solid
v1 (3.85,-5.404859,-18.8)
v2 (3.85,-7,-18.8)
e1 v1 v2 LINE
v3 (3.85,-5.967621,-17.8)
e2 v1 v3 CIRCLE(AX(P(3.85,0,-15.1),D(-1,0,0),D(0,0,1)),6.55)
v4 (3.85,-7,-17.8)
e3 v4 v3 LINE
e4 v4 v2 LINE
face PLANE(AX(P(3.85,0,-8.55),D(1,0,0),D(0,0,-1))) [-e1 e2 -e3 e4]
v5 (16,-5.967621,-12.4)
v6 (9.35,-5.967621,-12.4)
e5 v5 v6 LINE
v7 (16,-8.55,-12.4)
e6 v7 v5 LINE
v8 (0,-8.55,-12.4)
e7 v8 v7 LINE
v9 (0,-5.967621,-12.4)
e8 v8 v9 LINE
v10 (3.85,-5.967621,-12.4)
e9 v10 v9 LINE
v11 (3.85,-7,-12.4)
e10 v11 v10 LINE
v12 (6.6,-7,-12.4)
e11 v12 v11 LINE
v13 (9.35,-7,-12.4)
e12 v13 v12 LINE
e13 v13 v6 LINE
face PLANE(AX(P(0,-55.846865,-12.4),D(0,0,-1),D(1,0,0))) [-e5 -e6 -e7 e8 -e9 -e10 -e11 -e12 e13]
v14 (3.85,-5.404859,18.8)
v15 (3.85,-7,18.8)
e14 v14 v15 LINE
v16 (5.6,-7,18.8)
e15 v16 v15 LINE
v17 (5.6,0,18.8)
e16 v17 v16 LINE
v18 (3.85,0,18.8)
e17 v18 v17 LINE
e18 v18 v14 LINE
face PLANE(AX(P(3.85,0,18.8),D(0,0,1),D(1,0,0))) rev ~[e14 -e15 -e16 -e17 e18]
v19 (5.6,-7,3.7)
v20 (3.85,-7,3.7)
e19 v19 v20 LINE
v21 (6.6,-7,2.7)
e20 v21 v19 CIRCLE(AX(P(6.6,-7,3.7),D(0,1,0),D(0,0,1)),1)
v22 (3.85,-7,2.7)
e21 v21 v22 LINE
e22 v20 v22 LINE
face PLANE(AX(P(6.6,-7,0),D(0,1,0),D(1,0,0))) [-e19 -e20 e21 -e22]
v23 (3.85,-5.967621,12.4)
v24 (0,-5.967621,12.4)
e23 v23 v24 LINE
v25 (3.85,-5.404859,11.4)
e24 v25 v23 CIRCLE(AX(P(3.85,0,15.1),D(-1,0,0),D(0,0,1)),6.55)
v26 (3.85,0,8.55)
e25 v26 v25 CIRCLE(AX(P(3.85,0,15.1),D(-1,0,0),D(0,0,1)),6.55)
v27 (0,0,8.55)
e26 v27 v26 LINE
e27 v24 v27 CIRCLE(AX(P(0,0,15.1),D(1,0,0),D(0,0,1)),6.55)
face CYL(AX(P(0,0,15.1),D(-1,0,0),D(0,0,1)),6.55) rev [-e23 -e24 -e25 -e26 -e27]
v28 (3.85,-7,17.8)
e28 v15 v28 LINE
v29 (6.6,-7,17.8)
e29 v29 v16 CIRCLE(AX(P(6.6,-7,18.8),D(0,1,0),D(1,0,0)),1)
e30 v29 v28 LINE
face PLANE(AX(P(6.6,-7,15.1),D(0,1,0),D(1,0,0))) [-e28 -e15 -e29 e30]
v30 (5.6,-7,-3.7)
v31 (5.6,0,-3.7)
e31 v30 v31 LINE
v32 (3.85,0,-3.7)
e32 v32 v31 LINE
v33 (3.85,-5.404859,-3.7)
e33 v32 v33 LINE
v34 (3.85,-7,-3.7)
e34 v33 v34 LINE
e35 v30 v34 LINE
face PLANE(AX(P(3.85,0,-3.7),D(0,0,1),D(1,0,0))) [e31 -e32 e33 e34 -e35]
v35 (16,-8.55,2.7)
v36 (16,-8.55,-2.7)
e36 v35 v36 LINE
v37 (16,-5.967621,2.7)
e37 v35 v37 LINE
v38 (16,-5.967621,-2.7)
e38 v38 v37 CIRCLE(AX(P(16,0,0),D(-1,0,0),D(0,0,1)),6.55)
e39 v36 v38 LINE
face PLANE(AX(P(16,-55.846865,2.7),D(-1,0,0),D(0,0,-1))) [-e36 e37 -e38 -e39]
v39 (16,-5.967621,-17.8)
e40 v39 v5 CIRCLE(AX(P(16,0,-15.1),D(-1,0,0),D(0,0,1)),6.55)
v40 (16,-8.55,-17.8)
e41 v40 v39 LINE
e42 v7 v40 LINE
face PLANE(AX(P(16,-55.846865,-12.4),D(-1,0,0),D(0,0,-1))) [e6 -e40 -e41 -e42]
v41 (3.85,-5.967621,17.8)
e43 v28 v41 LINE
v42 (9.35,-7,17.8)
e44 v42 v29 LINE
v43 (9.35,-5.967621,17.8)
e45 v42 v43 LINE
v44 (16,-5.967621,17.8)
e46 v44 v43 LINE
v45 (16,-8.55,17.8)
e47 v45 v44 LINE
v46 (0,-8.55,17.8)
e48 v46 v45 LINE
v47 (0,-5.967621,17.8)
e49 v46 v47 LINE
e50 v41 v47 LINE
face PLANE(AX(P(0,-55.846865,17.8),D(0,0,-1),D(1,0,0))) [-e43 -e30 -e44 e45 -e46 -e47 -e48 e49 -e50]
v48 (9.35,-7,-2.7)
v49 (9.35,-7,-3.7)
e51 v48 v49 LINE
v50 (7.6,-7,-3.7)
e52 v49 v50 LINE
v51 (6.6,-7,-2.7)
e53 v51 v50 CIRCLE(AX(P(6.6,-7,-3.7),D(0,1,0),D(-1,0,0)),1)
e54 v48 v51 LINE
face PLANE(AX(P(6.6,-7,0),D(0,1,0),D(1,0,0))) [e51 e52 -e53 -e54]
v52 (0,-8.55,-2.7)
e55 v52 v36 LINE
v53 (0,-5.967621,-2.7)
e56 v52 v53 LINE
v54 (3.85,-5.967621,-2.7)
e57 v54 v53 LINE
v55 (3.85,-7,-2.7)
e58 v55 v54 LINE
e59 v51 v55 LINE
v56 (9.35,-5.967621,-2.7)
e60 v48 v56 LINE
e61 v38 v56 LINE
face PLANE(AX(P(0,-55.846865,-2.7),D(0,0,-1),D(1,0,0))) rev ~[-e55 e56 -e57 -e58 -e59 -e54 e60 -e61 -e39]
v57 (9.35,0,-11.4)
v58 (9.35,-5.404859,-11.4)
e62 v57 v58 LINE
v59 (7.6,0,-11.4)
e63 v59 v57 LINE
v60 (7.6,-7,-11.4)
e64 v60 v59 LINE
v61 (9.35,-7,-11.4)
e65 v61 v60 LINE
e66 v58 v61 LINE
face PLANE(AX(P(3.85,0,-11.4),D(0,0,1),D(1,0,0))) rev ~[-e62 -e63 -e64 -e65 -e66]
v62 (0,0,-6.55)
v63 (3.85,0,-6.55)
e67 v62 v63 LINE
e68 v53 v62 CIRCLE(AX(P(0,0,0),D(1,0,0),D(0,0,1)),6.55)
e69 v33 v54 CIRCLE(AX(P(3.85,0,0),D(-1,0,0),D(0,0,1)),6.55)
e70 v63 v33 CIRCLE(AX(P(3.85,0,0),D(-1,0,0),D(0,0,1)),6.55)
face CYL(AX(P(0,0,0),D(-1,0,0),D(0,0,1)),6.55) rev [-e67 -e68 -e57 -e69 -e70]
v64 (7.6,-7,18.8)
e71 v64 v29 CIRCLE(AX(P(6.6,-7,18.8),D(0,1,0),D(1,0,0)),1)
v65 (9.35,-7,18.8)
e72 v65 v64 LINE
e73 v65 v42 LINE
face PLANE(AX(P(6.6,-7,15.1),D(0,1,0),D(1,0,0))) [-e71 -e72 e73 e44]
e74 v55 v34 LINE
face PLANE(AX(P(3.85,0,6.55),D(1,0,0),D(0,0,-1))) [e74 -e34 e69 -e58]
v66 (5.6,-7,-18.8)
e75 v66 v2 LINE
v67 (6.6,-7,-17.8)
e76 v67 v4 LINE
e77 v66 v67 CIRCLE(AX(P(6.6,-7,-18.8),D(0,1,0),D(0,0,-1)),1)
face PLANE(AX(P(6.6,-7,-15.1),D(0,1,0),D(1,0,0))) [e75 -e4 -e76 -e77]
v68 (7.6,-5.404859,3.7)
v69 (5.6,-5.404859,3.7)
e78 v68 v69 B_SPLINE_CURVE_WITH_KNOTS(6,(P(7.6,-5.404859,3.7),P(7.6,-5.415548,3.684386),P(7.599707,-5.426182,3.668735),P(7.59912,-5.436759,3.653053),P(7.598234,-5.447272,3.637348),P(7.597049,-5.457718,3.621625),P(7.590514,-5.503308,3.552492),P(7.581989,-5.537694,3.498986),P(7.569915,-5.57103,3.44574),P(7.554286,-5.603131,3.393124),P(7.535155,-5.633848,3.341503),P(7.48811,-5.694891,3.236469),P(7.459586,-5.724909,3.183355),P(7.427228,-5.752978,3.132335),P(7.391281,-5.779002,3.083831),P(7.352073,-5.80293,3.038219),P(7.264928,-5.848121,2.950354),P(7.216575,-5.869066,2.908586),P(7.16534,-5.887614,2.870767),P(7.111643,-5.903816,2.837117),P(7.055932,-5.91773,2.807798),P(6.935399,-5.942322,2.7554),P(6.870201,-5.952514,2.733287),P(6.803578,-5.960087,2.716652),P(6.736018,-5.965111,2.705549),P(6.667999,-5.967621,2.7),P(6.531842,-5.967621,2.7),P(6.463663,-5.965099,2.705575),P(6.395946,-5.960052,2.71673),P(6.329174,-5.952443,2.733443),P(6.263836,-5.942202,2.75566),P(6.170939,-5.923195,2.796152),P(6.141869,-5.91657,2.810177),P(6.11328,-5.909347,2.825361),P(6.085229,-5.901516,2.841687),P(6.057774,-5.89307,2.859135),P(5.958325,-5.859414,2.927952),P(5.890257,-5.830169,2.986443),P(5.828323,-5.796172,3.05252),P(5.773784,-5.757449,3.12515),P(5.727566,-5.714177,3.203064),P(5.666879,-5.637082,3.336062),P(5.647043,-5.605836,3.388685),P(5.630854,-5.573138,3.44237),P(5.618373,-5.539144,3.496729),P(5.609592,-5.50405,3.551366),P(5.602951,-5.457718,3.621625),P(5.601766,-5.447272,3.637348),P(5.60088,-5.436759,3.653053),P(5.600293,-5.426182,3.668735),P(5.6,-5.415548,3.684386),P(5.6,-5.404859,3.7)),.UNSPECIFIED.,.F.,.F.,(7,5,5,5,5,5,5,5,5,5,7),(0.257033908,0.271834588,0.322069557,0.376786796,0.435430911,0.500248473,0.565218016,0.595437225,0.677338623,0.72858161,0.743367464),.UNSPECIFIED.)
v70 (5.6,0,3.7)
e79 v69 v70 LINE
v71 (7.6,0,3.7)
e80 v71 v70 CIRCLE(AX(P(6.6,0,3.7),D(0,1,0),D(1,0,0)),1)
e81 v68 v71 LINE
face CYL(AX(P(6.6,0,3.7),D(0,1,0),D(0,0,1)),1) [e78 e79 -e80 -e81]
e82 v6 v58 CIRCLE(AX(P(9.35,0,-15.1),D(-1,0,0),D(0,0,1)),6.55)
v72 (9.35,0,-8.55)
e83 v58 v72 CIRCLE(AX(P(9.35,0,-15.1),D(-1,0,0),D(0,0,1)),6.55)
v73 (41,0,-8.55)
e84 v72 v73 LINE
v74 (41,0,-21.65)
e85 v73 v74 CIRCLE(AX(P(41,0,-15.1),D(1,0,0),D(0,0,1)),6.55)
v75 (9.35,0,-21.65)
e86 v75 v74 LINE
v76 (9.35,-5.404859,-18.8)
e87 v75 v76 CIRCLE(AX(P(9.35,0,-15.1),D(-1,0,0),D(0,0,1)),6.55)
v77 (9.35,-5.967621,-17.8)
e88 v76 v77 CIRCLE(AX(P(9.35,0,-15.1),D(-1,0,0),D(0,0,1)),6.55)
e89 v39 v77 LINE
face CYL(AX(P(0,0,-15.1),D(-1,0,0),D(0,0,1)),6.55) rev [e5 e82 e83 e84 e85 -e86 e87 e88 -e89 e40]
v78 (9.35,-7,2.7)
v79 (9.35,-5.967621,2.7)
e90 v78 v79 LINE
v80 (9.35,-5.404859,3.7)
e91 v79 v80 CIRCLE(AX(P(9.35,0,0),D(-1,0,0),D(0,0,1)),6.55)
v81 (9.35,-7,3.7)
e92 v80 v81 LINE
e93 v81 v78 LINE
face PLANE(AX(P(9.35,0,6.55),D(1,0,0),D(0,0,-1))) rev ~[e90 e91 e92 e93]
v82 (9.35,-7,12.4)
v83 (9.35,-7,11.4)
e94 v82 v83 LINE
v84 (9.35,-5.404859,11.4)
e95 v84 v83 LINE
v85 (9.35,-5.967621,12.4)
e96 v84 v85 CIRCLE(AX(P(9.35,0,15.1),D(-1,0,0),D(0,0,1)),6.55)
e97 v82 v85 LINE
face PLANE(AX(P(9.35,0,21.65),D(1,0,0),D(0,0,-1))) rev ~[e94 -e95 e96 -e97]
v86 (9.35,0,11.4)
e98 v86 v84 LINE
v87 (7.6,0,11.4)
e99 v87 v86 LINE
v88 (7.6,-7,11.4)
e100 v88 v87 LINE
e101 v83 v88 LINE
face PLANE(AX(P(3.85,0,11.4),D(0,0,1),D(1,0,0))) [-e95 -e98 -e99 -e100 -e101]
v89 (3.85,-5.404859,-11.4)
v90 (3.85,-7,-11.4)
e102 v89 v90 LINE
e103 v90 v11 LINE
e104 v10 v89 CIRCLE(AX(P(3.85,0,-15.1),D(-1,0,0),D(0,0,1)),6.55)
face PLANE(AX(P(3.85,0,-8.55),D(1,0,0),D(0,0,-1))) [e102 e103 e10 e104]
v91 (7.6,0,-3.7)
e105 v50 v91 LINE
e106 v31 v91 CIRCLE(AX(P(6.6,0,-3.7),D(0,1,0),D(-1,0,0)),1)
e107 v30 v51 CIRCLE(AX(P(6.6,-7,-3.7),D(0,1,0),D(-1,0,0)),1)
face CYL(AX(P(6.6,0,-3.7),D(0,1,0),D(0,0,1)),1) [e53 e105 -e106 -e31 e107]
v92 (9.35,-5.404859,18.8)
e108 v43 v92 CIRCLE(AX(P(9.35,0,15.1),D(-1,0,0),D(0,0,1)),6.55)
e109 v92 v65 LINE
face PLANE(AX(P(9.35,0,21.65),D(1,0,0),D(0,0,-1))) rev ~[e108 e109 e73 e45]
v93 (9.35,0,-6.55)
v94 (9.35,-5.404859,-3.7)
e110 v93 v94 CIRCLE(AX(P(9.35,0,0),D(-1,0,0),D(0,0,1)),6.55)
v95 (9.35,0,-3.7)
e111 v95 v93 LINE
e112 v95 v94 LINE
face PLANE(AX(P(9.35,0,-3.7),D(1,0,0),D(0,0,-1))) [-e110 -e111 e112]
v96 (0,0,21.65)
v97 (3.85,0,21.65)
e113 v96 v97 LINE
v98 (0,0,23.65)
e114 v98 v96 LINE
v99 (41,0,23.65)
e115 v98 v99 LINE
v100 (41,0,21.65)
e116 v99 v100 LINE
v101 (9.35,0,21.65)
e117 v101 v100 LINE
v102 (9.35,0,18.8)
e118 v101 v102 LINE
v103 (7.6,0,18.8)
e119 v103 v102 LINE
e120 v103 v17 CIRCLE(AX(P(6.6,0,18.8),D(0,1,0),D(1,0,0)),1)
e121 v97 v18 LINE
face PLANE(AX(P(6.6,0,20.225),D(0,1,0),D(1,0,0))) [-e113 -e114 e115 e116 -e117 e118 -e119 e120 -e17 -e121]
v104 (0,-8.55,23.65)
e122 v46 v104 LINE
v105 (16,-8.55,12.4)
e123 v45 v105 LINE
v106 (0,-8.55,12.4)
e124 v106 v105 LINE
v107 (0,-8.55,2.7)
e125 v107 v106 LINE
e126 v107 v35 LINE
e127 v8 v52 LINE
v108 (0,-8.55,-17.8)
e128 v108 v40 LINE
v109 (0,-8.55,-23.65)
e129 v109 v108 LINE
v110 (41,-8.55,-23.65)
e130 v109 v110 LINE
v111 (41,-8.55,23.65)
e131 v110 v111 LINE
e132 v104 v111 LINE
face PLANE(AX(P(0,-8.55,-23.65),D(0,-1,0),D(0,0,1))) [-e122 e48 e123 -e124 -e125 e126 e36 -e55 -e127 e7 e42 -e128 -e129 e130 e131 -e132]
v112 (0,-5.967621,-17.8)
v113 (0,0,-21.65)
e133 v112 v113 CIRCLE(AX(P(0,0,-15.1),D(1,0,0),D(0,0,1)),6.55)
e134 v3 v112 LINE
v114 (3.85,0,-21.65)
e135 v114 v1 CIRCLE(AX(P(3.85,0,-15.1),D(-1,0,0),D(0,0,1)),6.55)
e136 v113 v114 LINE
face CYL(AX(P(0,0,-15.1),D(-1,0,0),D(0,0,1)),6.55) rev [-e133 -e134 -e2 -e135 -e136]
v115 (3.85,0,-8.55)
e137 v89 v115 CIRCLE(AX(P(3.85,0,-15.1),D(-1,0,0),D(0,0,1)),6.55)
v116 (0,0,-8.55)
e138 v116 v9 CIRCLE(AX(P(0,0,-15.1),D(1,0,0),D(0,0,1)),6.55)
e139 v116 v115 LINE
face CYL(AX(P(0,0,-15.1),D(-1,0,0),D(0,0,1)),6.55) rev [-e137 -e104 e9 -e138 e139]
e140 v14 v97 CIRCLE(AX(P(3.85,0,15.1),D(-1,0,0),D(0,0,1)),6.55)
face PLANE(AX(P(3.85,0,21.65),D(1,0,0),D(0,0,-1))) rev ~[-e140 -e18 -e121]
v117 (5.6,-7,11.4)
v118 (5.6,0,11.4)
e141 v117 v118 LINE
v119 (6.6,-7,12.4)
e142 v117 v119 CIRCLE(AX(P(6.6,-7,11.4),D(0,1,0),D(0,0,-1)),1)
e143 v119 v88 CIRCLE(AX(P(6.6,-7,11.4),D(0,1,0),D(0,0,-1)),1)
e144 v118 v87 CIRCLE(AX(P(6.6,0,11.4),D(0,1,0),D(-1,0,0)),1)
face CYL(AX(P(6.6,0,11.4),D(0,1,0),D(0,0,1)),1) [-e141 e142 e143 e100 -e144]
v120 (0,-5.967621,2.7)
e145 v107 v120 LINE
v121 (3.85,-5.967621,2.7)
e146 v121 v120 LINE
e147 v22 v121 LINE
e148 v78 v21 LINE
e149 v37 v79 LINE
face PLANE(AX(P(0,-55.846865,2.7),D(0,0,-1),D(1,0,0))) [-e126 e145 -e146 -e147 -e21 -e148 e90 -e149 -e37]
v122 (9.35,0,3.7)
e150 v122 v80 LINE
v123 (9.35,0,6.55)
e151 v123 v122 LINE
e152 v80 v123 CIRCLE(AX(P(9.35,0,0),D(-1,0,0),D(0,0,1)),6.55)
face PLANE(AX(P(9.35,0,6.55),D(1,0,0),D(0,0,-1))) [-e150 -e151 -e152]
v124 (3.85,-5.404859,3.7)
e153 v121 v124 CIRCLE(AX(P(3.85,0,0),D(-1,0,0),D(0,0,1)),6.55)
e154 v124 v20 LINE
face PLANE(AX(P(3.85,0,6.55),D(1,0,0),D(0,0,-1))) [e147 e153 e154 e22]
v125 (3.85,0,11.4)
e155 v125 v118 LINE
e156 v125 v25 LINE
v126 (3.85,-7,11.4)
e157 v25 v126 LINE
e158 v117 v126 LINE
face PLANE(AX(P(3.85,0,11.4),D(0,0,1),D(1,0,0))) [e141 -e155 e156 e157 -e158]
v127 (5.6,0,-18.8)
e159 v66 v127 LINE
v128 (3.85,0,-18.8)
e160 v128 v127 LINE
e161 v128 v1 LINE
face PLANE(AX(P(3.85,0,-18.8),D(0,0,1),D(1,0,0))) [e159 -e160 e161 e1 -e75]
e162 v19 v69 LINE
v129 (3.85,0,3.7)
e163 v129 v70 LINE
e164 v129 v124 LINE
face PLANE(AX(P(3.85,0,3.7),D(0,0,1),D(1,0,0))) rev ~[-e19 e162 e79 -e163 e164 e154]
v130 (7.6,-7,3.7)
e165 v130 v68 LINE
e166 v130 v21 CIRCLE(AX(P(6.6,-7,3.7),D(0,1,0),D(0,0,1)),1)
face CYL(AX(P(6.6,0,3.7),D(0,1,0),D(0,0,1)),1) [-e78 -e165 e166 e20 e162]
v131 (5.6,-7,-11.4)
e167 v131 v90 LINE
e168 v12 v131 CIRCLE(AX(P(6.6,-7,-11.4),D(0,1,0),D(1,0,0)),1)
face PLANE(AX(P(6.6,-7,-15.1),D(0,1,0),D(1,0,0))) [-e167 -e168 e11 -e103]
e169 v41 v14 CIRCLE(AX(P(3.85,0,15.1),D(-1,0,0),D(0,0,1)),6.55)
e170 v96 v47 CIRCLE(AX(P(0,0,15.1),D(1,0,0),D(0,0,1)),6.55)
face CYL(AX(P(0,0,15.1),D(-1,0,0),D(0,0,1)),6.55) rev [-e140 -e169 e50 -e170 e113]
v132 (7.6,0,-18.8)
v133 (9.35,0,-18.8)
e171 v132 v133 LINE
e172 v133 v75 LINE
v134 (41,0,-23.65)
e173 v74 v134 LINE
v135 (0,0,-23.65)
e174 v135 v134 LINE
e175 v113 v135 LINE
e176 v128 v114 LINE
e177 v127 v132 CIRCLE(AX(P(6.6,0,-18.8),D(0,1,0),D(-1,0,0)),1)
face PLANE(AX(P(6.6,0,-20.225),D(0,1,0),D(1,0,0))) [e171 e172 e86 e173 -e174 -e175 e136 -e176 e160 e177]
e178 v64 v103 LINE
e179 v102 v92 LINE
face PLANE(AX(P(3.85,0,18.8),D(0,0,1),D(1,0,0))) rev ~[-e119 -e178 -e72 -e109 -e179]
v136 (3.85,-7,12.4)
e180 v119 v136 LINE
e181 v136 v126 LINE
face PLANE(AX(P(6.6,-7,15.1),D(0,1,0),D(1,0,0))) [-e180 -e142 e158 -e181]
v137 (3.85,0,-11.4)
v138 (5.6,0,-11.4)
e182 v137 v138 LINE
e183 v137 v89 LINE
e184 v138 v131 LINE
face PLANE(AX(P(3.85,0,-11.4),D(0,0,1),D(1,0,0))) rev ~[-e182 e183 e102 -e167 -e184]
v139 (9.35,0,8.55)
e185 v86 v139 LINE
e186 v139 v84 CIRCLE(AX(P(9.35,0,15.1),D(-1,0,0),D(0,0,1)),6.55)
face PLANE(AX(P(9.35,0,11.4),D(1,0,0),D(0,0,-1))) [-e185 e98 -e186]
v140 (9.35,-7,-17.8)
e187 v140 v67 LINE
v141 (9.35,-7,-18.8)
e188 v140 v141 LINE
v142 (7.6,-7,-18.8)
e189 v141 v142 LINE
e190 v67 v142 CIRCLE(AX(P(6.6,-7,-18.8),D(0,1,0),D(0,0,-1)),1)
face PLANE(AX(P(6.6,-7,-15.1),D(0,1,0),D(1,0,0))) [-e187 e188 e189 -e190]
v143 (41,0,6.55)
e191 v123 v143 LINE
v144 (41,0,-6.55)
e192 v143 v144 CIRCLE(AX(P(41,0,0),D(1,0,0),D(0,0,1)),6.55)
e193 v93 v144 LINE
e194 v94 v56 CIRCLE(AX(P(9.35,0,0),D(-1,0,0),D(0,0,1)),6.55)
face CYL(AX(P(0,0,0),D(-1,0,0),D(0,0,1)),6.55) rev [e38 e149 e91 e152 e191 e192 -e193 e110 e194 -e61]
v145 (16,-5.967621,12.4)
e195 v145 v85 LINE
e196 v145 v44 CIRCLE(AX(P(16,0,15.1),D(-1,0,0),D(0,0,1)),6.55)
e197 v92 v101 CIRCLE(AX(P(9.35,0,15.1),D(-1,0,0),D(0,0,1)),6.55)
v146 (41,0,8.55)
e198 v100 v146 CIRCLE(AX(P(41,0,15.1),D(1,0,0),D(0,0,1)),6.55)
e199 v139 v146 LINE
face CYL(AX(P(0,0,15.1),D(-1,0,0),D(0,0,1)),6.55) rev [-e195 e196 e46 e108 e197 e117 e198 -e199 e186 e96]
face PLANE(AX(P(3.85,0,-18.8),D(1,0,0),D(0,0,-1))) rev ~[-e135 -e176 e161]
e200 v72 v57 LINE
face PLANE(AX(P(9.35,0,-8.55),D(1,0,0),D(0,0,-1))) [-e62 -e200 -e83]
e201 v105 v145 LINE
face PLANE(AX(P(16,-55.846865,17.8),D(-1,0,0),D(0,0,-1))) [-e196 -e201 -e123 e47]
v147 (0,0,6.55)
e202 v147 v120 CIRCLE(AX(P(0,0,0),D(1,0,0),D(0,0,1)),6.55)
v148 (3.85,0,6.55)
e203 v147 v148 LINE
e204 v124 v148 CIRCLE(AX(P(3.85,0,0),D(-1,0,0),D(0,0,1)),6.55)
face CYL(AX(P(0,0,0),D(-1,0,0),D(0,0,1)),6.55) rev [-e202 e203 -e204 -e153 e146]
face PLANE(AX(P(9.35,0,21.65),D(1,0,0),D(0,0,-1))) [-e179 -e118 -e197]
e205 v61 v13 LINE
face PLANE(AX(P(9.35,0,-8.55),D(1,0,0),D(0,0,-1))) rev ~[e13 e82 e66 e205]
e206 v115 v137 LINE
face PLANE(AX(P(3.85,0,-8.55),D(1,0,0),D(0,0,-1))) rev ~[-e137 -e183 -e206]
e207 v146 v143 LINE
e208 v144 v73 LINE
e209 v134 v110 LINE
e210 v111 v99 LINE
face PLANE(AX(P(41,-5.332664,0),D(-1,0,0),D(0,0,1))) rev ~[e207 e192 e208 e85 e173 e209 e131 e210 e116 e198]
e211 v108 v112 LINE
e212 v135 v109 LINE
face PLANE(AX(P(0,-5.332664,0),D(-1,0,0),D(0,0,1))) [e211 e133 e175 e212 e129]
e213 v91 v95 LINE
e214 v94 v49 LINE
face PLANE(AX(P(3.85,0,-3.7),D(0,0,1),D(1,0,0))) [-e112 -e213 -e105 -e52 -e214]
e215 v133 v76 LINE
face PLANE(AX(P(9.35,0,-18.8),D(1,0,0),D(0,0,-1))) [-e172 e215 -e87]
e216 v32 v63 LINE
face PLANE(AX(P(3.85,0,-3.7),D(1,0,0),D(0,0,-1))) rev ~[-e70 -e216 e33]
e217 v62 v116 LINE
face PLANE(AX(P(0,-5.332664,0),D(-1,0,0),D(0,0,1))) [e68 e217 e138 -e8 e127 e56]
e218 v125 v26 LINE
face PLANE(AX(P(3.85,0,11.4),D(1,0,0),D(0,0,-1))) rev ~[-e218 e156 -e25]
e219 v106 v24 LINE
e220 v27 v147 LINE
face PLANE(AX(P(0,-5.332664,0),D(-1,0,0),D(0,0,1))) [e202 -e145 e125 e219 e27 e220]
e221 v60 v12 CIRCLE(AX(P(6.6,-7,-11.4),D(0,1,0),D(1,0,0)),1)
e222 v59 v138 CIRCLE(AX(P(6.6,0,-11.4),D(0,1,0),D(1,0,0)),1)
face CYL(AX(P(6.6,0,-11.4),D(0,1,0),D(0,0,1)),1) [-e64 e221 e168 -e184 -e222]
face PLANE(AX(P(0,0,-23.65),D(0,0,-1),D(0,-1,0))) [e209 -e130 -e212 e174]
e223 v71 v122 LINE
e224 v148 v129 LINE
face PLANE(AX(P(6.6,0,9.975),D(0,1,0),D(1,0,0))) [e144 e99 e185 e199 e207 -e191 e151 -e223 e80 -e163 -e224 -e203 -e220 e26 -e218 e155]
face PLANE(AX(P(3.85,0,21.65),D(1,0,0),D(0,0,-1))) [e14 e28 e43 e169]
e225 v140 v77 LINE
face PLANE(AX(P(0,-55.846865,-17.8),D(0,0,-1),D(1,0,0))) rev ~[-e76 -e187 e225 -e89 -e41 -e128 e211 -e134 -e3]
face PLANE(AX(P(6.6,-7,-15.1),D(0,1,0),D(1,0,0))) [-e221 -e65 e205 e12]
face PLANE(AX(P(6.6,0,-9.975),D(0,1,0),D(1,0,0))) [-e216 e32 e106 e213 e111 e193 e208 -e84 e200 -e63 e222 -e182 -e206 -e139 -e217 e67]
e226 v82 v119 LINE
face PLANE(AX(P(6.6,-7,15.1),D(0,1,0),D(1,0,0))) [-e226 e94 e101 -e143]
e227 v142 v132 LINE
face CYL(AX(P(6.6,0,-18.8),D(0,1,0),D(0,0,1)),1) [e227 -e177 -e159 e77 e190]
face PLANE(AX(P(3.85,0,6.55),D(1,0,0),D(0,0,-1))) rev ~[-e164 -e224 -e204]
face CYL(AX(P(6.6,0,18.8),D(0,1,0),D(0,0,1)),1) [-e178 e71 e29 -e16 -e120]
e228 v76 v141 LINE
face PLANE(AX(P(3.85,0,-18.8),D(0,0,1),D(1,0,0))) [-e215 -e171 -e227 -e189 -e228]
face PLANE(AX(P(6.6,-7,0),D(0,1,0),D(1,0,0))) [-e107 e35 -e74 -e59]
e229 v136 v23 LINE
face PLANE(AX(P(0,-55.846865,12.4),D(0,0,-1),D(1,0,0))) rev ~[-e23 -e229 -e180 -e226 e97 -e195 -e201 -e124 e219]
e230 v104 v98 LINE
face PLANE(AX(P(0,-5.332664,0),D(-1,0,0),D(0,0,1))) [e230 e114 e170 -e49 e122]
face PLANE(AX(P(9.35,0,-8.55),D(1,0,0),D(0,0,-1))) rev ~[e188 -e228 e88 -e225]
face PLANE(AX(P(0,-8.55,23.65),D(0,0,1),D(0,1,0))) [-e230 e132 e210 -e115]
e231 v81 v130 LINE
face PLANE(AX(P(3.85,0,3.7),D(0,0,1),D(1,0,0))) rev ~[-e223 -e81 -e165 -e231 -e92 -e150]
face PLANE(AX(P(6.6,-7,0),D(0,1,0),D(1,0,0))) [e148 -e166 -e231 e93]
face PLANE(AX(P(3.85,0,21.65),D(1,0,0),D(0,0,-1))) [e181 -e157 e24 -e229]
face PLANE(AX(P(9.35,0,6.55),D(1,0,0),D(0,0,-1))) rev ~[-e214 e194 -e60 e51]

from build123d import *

# Parameters (mm, degrees)
BOSS_EXTRUDE1_DEPTH     = 41
BOSS_EXTRUDE2_REACH     = 50.098
SKETCH2_R               = 1
SKETCH4_W               = 5.5
SKETCH4_H               = 13.1
SKETCH4_R               = 1
CUT_EXTRUDE1_DEPTH      = 7
BOSS_EXTRUDE4_REACH     = 50.098
SKETCH6_W               = 5.5
SKETCH6_H               = 2.85
CUT_EXTRUDE2_DEPTH      = 48.846865116
CUT_EXTRUDE2_DEPTH_BACK = 48.846865116
SKETCH7_W               = 16
SKETCH7_H               = 5.4


with BuildPart() as part:
    # Sketch1 → Boss-Extrude1 (new body)
    with BuildSketch(Plane(origin=(0, 0, 0), x_dir=(0, 0, -1), z_dir=(1, 0, 0))):
        with BuildLine():
            Line((-8.55, 0), (-6.55, 0))
            ThreePointArc((-6.55, 0), (0, -6.55), (6.55, 0))
            Line((6.55, 0), (8.55, 0))
            ThreePointArc((8.55, 0), (15.1, -6.55), (21.65, 0))
            Line((21.65, 0), (23.65, 0))
            Line((23.65, 0), (23.65, -8.55))
            Line((23.65, -8.55), (-23.65, -8.55))
            Line((-23.65, -8.55), (-23.65, 0))
            Line((-23.65, 0), (-21.65, 0))
            ThreePointArc((-21.65, 0), (-15.1, -6.55), (-8.55, 0))
        make_face()
    extrude(amount=BOSS_EXTRUDE1_DEPTH)

    # Sketch2 → Boss-Extrude2 (add, up to next)
    with BuildSketch(Plane(origin=(0, 0, 0), x_dir=(1, 0, 0), z_dir=(0, 1, 0)), mode=Mode.PRIVATE) as boss_extrude2_sk1:
        with Locations(Location((6.6, 3.7, 0), (0, 0, 270))):
            Circle(SKETCH2_R)
    boss_extrude2_tool1 = extrude(boss_extrude2_sk1.sketch, amount=-BOSS_EXTRUDE2_REACH, mode=Mode.PRIVATE) - part.part
    # Sketch2 → Boss-Extrude2 (add, up to next)
    with BuildSketch(Plane(origin=(0, 0, 0), x_dir=(1, 0, 0), z_dir=(0, 1, 0)), mode=Mode.PRIVATE) as boss_extrude2_sk2:
        with Locations(Location((6.6, -3.7, 0), (0, 0, 270))):
            Circle(SKETCH2_R)
    boss_extrude2_tool2 = extrude(boss_extrude2_sk2.sketch, amount=-BOSS_EXTRUDE2_REACH, mode=Mode.PRIVATE) - part.part
    # Sketch2 → Boss-Extrude2 (add, up to next)
    with BuildSketch(Plane(origin=(0, 0, 0), x_dir=(1, 0, 0), z_dir=(0, 1, 0)), mode=Mode.PRIVATE) as boss_extrude2_sk3:
        with Locations(Location((6.6, -11.4, 0), (0, 0, 270))):
            Circle(SKETCH2_R)
    boss_extrude2_tool3 = extrude(boss_extrude2_sk3.sketch, amount=-BOSS_EXTRUDE2_REACH, mode=Mode.PRIVATE) - part.part
    # Sketch2 → Boss-Extrude2 (add, up to next)
    with BuildSketch(Plane(origin=(0, 0, 0), x_dir=(1, 0, 0), z_dir=(0, 1, 0)), mode=Mode.PRIVATE) as boss_extrude2_sk4:
        with Locations(Location((6.6, -18.8, 0), (0, 0, 270))):
            Circle(SKETCH2_R)
    boss_extrude2_tool4 = extrude(boss_extrude2_sk4.sketch, amount=-BOSS_EXTRUDE2_REACH, mode=Mode.PRIVATE) - part.part
    # Sketch2 → Boss-Extrude2 (add, up to next)
    with BuildSketch(Plane(origin=(0, 0, 0), x_dir=(1, 0, 0), z_dir=(0, 1, 0)), mode=Mode.PRIVATE) as boss_extrude2_sk5:
        with Locations(Location((6.6, 18.8, 0), (0, 0, 270))):
            Circle(SKETCH2_R)
    boss_extrude2_tool5 = extrude(boss_extrude2_sk5.sketch, amount=-BOSS_EXTRUDE2_REACH, mode=Mode.PRIVATE) - part.part
    # Sketch2 → Boss-Extrude2 (add, up to next)
    with BuildSketch(Plane(origin=(0, 0, 0), x_dir=(1, 0, 0), z_dir=(0, 1, 0)), mode=Mode.PRIVATE) as boss_extrude2_sk6:
        with Locations(Location((6.6, 11.4, 0), (0, 0, 270))):
            Circle(SKETCH2_R)
    boss_extrude2_tool6 = extrude(boss_extrude2_sk6.sketch, amount=-BOSS_EXTRUDE2_REACH, mode=Mode.PRIVATE) - part.part
    add(boss_extrude2_tool1.solids().sort_by_distance((6.6, 0, -3.7))[0])
    add(boss_extrude2_tool2.solids().sort_by_distance((6.6, 0, 3.7))[0])
    add(boss_extrude2_tool3.solids().sort_by_distance((6.6, 0, 11.4))[0])
    add(boss_extrude2_tool4.solids().sort_by_distance((6.6, 0, 18.8))[0])
    add(boss_extrude2_tool5.solids().sort_by_distance((6.6, 0, -18.8))[0])
    add(boss_extrude2_tool6.solids().sort_by_distance((6.6, 0, -11.4))[0])

    # Sketch4 → Cut-Extrude1 (cut)
    # profile 1 of 3: a face of its own
    with BuildSketch(Plane(origin=(0, 0, 0), x_dir=(1, 0, 0), z_dir=(0, 1, 0))):
        with Locations((6.6, 0)):
            Rectangle(SKETCH4_W, SKETCH4_H)
        with Locations(Location((6.6, 3.7, 0), (0, 0, 270))):
            Circle(SKETCH4_R, mode=Mode.SUBTRACT)
        with Locations(Location((6.6, -3.7, 0), (0, 0, 270))):
            Circle(SKETCH4_R, mode=Mode.SUBTRACT)
    # profile 2 of 3: a face of its own
    with BuildSketch(Plane(origin=(0, 0, 0), x_dir=(1, 0, 0), z_dir=(0, 1, 0))):
        with Locations((6.6, -15.1)):
            Rectangle(SKETCH4_W, SKETCH4_H)
        with Locations(Location((6.6, -11.4, 0), (0, 0, 90))):
            Circle(SKETCH4_R, mode=Mode.SUBTRACT)
        with Locations(Location((6.6, -18.8, 0), (0, 0, 90))):
            Circle(SKETCH4_R, mode=Mode.SUBTRACT)
    # profile 3 of 3: a face of its own
    with BuildSketch(Plane(origin=(0, 0, 0), x_dir=(1, 0, 0), z_dir=(0, 1, 0))):
        with Locations((6.6, 15.1)):
            Rectangle(SKETCH4_W, SKETCH4_H)
        with Locations(Location((6.6, 11.4, 0), (0, 0, 90))):
            Circle(SKETCH4_R, mode=Mode.SUBTRACT)
        with Locations(Location((6.6, 18.8, 0), (0, 0, 90))):
            Circle(SKETCH4_R, mode=Mode.SUBTRACT)
    extrude(amount=-CUT_EXTRUDE1_DEPTH, mode=Mode.SUBTRACT)

    # Boss-Extrude4: up to this face of the body (flat: up to its plane)
    boss_extrude4_end = Plane(part.part.faces().sort_by_distance((6.6, -7, -15.1))[0])
    # Sketch6 → Boss-Extrude4 (add, up to the picked face)
    with BuildSketch(Plane(origin=(0, 0, 0), x_dir=(1, 0, 0), z_dir=(0, 1, 0)), mode=Mode.PRIVATE) as boss_extrude4_sk1:
        with Locations((6.6, -5.125)):
            Rectangle(SKETCH6_W, SKETCH6_H)
    boss_extrude4_tool1 = split(extrude(boss_extrude4_sk1.sketch, amount=-BOSS_EXTRUDE4_REACH, mode=Mode.PRIVATE), bisect_by=boss_extrude4_end, keep=Keep.BOTH, mode=Mode.PRIVATE)
    # Sketch6 → Boss-Extrude4 (add, up to the picked face)
    with BuildSketch(Plane(origin=(0, 0, 0), x_dir=(1, 0, 0), z_dir=(0, 1, 0)), mode=Mode.PRIVATE) as boss_extrude4_sk2:
        with Locations((6.6, 5.125)):
            Rectangle(SKETCH6_W, SKETCH6_H)
    boss_extrude4_tool2 = split(extrude(boss_extrude4_sk2.sketch, amount=-BOSS_EXTRUDE4_REACH, mode=Mode.PRIVATE), bisect_by=boss_extrude4_end, keep=Keep.BOTH, mode=Mode.PRIVATE)
    # Sketch6 → Boss-Extrude4 (add, up to the picked face)
    with BuildSketch(Plane(origin=(0, 0, 0), x_dir=(1, 0, 0), z_dir=(0, 1, 0)), mode=Mode.PRIVATE) as boss_extrude4_sk3:
        with Locations((6.6, -20.225)):
            Rectangle(SKETCH6_W, SKETCH6_H)
    boss_extrude4_tool3 = split(extrude(boss_extrude4_sk3.sketch, amount=-BOSS_EXTRUDE4_REACH, mode=Mode.PRIVATE), bisect_by=boss_extrude4_end, keep=Keep.BOTH, mode=Mode.PRIVATE)
    # Sketch6 → Boss-Extrude4 (add, up to the picked face)
    with BuildSketch(Plane(origin=(0, 0, 0), x_dir=(1, 0, 0), z_dir=(0, 1, 0)), mode=Mode.PRIVATE) as boss_extrude4_sk4:
        with Locations((6.6, -9.975)):
            Rectangle(SKETCH6_W, SKETCH6_H)
    boss_extrude4_tool4 = split(extrude(boss_extrude4_sk4.sketch, amount=-BOSS_EXTRUDE4_REACH, mode=Mode.PRIVATE), bisect_by=boss_extrude4_end, keep=Keep.BOTH, mode=Mode.PRIVATE)
    # Sketch6 → Boss-Extrude4 (add, up to the picked face)
    with BuildSketch(Plane(origin=(0, 0, 0), x_dir=(1, 0, 0), z_dir=(0, 1, 0)), mode=Mode.PRIVATE) as boss_extrude4_sk5:
        with Locations((6.6, 9.975)):
            Rectangle(SKETCH6_W, SKETCH6_H)
    boss_extrude4_tool5 = split(extrude(boss_extrude4_sk5.sketch, amount=-BOSS_EXTRUDE4_REACH, mode=Mode.PRIVATE), bisect_by=boss_extrude4_end, keep=Keep.BOTH, mode=Mode.PRIVATE)
    # Sketch6 → Boss-Extrude4 (add, up to the picked face)
    with BuildSketch(Plane(origin=(0, 0, 0), x_dir=(1, 0, 0), z_dir=(0, 1, 0)), mode=Mode.PRIVATE) as boss_extrude4_sk6:
        with Locations((6.6, 20.225)):
            Rectangle(SKETCH6_W, SKETCH6_H)
    boss_extrude4_tool6 = split(extrude(boss_extrude4_sk6.sketch, amount=-BOSS_EXTRUDE4_REACH, mode=Mode.PRIVATE), bisect_by=boss_extrude4_end, keep=Keep.BOTH, mode=Mode.PRIVATE)
    add(boss_extrude4_tool1.solids().sort_by(Axis((6.6, 0, 5.125), (0, -1, 0)))[0])
    add(boss_extrude4_tool2.solids().sort_by(Axis((6.6, 0, -5.125), (0, -1, 0)))[0])
    add(boss_extrude4_tool3.solids().sort_by(Axis((6.6, 0, 20.225), (0, -1, 0)))[0])
    add(boss_extrude4_tool4.solids().sort_by(Axis((6.6, 0, 9.975), (0, -1, 0)))[0])
    add(boss_extrude4_tool5.solids().sort_by(Axis((6.6, 0, -9.975), (0, -1, 0)))[0])
    add(boss_extrude4_tool6.solids().sort_by(Axis((6.6, 0, -20.225), (0, -1, 0)))[0])

    # Sketch7 → Cut-Extrude2 (cut, two sides: drawn at the far end of the back side and taken through both)
    with BuildSketch(Plane(origin=(0, -7, 0), x_dir=(1, 0, 0), z_dir=(0, 1, 0)).offset(-CUT_EXTRUDE2_DEPTH_BACK)):
        with Locations((8, 0)):
            Rectangle(SKETCH7_W, SKETCH7_H)
        with Locations((8, -15.1)):
            Rectangle(SKETCH7_W, SKETCH7_H)
        with Locations((8, 15.1)):
            Rectangle(SKETCH7_W, SKETCH7_H)
    extrude(amount=CUT_EXTRUDE2_DEPTH + CUT_EXTRUDE2_DEPTH_BACK, mode=Mode.SUBTRACT)


solid = part.part
